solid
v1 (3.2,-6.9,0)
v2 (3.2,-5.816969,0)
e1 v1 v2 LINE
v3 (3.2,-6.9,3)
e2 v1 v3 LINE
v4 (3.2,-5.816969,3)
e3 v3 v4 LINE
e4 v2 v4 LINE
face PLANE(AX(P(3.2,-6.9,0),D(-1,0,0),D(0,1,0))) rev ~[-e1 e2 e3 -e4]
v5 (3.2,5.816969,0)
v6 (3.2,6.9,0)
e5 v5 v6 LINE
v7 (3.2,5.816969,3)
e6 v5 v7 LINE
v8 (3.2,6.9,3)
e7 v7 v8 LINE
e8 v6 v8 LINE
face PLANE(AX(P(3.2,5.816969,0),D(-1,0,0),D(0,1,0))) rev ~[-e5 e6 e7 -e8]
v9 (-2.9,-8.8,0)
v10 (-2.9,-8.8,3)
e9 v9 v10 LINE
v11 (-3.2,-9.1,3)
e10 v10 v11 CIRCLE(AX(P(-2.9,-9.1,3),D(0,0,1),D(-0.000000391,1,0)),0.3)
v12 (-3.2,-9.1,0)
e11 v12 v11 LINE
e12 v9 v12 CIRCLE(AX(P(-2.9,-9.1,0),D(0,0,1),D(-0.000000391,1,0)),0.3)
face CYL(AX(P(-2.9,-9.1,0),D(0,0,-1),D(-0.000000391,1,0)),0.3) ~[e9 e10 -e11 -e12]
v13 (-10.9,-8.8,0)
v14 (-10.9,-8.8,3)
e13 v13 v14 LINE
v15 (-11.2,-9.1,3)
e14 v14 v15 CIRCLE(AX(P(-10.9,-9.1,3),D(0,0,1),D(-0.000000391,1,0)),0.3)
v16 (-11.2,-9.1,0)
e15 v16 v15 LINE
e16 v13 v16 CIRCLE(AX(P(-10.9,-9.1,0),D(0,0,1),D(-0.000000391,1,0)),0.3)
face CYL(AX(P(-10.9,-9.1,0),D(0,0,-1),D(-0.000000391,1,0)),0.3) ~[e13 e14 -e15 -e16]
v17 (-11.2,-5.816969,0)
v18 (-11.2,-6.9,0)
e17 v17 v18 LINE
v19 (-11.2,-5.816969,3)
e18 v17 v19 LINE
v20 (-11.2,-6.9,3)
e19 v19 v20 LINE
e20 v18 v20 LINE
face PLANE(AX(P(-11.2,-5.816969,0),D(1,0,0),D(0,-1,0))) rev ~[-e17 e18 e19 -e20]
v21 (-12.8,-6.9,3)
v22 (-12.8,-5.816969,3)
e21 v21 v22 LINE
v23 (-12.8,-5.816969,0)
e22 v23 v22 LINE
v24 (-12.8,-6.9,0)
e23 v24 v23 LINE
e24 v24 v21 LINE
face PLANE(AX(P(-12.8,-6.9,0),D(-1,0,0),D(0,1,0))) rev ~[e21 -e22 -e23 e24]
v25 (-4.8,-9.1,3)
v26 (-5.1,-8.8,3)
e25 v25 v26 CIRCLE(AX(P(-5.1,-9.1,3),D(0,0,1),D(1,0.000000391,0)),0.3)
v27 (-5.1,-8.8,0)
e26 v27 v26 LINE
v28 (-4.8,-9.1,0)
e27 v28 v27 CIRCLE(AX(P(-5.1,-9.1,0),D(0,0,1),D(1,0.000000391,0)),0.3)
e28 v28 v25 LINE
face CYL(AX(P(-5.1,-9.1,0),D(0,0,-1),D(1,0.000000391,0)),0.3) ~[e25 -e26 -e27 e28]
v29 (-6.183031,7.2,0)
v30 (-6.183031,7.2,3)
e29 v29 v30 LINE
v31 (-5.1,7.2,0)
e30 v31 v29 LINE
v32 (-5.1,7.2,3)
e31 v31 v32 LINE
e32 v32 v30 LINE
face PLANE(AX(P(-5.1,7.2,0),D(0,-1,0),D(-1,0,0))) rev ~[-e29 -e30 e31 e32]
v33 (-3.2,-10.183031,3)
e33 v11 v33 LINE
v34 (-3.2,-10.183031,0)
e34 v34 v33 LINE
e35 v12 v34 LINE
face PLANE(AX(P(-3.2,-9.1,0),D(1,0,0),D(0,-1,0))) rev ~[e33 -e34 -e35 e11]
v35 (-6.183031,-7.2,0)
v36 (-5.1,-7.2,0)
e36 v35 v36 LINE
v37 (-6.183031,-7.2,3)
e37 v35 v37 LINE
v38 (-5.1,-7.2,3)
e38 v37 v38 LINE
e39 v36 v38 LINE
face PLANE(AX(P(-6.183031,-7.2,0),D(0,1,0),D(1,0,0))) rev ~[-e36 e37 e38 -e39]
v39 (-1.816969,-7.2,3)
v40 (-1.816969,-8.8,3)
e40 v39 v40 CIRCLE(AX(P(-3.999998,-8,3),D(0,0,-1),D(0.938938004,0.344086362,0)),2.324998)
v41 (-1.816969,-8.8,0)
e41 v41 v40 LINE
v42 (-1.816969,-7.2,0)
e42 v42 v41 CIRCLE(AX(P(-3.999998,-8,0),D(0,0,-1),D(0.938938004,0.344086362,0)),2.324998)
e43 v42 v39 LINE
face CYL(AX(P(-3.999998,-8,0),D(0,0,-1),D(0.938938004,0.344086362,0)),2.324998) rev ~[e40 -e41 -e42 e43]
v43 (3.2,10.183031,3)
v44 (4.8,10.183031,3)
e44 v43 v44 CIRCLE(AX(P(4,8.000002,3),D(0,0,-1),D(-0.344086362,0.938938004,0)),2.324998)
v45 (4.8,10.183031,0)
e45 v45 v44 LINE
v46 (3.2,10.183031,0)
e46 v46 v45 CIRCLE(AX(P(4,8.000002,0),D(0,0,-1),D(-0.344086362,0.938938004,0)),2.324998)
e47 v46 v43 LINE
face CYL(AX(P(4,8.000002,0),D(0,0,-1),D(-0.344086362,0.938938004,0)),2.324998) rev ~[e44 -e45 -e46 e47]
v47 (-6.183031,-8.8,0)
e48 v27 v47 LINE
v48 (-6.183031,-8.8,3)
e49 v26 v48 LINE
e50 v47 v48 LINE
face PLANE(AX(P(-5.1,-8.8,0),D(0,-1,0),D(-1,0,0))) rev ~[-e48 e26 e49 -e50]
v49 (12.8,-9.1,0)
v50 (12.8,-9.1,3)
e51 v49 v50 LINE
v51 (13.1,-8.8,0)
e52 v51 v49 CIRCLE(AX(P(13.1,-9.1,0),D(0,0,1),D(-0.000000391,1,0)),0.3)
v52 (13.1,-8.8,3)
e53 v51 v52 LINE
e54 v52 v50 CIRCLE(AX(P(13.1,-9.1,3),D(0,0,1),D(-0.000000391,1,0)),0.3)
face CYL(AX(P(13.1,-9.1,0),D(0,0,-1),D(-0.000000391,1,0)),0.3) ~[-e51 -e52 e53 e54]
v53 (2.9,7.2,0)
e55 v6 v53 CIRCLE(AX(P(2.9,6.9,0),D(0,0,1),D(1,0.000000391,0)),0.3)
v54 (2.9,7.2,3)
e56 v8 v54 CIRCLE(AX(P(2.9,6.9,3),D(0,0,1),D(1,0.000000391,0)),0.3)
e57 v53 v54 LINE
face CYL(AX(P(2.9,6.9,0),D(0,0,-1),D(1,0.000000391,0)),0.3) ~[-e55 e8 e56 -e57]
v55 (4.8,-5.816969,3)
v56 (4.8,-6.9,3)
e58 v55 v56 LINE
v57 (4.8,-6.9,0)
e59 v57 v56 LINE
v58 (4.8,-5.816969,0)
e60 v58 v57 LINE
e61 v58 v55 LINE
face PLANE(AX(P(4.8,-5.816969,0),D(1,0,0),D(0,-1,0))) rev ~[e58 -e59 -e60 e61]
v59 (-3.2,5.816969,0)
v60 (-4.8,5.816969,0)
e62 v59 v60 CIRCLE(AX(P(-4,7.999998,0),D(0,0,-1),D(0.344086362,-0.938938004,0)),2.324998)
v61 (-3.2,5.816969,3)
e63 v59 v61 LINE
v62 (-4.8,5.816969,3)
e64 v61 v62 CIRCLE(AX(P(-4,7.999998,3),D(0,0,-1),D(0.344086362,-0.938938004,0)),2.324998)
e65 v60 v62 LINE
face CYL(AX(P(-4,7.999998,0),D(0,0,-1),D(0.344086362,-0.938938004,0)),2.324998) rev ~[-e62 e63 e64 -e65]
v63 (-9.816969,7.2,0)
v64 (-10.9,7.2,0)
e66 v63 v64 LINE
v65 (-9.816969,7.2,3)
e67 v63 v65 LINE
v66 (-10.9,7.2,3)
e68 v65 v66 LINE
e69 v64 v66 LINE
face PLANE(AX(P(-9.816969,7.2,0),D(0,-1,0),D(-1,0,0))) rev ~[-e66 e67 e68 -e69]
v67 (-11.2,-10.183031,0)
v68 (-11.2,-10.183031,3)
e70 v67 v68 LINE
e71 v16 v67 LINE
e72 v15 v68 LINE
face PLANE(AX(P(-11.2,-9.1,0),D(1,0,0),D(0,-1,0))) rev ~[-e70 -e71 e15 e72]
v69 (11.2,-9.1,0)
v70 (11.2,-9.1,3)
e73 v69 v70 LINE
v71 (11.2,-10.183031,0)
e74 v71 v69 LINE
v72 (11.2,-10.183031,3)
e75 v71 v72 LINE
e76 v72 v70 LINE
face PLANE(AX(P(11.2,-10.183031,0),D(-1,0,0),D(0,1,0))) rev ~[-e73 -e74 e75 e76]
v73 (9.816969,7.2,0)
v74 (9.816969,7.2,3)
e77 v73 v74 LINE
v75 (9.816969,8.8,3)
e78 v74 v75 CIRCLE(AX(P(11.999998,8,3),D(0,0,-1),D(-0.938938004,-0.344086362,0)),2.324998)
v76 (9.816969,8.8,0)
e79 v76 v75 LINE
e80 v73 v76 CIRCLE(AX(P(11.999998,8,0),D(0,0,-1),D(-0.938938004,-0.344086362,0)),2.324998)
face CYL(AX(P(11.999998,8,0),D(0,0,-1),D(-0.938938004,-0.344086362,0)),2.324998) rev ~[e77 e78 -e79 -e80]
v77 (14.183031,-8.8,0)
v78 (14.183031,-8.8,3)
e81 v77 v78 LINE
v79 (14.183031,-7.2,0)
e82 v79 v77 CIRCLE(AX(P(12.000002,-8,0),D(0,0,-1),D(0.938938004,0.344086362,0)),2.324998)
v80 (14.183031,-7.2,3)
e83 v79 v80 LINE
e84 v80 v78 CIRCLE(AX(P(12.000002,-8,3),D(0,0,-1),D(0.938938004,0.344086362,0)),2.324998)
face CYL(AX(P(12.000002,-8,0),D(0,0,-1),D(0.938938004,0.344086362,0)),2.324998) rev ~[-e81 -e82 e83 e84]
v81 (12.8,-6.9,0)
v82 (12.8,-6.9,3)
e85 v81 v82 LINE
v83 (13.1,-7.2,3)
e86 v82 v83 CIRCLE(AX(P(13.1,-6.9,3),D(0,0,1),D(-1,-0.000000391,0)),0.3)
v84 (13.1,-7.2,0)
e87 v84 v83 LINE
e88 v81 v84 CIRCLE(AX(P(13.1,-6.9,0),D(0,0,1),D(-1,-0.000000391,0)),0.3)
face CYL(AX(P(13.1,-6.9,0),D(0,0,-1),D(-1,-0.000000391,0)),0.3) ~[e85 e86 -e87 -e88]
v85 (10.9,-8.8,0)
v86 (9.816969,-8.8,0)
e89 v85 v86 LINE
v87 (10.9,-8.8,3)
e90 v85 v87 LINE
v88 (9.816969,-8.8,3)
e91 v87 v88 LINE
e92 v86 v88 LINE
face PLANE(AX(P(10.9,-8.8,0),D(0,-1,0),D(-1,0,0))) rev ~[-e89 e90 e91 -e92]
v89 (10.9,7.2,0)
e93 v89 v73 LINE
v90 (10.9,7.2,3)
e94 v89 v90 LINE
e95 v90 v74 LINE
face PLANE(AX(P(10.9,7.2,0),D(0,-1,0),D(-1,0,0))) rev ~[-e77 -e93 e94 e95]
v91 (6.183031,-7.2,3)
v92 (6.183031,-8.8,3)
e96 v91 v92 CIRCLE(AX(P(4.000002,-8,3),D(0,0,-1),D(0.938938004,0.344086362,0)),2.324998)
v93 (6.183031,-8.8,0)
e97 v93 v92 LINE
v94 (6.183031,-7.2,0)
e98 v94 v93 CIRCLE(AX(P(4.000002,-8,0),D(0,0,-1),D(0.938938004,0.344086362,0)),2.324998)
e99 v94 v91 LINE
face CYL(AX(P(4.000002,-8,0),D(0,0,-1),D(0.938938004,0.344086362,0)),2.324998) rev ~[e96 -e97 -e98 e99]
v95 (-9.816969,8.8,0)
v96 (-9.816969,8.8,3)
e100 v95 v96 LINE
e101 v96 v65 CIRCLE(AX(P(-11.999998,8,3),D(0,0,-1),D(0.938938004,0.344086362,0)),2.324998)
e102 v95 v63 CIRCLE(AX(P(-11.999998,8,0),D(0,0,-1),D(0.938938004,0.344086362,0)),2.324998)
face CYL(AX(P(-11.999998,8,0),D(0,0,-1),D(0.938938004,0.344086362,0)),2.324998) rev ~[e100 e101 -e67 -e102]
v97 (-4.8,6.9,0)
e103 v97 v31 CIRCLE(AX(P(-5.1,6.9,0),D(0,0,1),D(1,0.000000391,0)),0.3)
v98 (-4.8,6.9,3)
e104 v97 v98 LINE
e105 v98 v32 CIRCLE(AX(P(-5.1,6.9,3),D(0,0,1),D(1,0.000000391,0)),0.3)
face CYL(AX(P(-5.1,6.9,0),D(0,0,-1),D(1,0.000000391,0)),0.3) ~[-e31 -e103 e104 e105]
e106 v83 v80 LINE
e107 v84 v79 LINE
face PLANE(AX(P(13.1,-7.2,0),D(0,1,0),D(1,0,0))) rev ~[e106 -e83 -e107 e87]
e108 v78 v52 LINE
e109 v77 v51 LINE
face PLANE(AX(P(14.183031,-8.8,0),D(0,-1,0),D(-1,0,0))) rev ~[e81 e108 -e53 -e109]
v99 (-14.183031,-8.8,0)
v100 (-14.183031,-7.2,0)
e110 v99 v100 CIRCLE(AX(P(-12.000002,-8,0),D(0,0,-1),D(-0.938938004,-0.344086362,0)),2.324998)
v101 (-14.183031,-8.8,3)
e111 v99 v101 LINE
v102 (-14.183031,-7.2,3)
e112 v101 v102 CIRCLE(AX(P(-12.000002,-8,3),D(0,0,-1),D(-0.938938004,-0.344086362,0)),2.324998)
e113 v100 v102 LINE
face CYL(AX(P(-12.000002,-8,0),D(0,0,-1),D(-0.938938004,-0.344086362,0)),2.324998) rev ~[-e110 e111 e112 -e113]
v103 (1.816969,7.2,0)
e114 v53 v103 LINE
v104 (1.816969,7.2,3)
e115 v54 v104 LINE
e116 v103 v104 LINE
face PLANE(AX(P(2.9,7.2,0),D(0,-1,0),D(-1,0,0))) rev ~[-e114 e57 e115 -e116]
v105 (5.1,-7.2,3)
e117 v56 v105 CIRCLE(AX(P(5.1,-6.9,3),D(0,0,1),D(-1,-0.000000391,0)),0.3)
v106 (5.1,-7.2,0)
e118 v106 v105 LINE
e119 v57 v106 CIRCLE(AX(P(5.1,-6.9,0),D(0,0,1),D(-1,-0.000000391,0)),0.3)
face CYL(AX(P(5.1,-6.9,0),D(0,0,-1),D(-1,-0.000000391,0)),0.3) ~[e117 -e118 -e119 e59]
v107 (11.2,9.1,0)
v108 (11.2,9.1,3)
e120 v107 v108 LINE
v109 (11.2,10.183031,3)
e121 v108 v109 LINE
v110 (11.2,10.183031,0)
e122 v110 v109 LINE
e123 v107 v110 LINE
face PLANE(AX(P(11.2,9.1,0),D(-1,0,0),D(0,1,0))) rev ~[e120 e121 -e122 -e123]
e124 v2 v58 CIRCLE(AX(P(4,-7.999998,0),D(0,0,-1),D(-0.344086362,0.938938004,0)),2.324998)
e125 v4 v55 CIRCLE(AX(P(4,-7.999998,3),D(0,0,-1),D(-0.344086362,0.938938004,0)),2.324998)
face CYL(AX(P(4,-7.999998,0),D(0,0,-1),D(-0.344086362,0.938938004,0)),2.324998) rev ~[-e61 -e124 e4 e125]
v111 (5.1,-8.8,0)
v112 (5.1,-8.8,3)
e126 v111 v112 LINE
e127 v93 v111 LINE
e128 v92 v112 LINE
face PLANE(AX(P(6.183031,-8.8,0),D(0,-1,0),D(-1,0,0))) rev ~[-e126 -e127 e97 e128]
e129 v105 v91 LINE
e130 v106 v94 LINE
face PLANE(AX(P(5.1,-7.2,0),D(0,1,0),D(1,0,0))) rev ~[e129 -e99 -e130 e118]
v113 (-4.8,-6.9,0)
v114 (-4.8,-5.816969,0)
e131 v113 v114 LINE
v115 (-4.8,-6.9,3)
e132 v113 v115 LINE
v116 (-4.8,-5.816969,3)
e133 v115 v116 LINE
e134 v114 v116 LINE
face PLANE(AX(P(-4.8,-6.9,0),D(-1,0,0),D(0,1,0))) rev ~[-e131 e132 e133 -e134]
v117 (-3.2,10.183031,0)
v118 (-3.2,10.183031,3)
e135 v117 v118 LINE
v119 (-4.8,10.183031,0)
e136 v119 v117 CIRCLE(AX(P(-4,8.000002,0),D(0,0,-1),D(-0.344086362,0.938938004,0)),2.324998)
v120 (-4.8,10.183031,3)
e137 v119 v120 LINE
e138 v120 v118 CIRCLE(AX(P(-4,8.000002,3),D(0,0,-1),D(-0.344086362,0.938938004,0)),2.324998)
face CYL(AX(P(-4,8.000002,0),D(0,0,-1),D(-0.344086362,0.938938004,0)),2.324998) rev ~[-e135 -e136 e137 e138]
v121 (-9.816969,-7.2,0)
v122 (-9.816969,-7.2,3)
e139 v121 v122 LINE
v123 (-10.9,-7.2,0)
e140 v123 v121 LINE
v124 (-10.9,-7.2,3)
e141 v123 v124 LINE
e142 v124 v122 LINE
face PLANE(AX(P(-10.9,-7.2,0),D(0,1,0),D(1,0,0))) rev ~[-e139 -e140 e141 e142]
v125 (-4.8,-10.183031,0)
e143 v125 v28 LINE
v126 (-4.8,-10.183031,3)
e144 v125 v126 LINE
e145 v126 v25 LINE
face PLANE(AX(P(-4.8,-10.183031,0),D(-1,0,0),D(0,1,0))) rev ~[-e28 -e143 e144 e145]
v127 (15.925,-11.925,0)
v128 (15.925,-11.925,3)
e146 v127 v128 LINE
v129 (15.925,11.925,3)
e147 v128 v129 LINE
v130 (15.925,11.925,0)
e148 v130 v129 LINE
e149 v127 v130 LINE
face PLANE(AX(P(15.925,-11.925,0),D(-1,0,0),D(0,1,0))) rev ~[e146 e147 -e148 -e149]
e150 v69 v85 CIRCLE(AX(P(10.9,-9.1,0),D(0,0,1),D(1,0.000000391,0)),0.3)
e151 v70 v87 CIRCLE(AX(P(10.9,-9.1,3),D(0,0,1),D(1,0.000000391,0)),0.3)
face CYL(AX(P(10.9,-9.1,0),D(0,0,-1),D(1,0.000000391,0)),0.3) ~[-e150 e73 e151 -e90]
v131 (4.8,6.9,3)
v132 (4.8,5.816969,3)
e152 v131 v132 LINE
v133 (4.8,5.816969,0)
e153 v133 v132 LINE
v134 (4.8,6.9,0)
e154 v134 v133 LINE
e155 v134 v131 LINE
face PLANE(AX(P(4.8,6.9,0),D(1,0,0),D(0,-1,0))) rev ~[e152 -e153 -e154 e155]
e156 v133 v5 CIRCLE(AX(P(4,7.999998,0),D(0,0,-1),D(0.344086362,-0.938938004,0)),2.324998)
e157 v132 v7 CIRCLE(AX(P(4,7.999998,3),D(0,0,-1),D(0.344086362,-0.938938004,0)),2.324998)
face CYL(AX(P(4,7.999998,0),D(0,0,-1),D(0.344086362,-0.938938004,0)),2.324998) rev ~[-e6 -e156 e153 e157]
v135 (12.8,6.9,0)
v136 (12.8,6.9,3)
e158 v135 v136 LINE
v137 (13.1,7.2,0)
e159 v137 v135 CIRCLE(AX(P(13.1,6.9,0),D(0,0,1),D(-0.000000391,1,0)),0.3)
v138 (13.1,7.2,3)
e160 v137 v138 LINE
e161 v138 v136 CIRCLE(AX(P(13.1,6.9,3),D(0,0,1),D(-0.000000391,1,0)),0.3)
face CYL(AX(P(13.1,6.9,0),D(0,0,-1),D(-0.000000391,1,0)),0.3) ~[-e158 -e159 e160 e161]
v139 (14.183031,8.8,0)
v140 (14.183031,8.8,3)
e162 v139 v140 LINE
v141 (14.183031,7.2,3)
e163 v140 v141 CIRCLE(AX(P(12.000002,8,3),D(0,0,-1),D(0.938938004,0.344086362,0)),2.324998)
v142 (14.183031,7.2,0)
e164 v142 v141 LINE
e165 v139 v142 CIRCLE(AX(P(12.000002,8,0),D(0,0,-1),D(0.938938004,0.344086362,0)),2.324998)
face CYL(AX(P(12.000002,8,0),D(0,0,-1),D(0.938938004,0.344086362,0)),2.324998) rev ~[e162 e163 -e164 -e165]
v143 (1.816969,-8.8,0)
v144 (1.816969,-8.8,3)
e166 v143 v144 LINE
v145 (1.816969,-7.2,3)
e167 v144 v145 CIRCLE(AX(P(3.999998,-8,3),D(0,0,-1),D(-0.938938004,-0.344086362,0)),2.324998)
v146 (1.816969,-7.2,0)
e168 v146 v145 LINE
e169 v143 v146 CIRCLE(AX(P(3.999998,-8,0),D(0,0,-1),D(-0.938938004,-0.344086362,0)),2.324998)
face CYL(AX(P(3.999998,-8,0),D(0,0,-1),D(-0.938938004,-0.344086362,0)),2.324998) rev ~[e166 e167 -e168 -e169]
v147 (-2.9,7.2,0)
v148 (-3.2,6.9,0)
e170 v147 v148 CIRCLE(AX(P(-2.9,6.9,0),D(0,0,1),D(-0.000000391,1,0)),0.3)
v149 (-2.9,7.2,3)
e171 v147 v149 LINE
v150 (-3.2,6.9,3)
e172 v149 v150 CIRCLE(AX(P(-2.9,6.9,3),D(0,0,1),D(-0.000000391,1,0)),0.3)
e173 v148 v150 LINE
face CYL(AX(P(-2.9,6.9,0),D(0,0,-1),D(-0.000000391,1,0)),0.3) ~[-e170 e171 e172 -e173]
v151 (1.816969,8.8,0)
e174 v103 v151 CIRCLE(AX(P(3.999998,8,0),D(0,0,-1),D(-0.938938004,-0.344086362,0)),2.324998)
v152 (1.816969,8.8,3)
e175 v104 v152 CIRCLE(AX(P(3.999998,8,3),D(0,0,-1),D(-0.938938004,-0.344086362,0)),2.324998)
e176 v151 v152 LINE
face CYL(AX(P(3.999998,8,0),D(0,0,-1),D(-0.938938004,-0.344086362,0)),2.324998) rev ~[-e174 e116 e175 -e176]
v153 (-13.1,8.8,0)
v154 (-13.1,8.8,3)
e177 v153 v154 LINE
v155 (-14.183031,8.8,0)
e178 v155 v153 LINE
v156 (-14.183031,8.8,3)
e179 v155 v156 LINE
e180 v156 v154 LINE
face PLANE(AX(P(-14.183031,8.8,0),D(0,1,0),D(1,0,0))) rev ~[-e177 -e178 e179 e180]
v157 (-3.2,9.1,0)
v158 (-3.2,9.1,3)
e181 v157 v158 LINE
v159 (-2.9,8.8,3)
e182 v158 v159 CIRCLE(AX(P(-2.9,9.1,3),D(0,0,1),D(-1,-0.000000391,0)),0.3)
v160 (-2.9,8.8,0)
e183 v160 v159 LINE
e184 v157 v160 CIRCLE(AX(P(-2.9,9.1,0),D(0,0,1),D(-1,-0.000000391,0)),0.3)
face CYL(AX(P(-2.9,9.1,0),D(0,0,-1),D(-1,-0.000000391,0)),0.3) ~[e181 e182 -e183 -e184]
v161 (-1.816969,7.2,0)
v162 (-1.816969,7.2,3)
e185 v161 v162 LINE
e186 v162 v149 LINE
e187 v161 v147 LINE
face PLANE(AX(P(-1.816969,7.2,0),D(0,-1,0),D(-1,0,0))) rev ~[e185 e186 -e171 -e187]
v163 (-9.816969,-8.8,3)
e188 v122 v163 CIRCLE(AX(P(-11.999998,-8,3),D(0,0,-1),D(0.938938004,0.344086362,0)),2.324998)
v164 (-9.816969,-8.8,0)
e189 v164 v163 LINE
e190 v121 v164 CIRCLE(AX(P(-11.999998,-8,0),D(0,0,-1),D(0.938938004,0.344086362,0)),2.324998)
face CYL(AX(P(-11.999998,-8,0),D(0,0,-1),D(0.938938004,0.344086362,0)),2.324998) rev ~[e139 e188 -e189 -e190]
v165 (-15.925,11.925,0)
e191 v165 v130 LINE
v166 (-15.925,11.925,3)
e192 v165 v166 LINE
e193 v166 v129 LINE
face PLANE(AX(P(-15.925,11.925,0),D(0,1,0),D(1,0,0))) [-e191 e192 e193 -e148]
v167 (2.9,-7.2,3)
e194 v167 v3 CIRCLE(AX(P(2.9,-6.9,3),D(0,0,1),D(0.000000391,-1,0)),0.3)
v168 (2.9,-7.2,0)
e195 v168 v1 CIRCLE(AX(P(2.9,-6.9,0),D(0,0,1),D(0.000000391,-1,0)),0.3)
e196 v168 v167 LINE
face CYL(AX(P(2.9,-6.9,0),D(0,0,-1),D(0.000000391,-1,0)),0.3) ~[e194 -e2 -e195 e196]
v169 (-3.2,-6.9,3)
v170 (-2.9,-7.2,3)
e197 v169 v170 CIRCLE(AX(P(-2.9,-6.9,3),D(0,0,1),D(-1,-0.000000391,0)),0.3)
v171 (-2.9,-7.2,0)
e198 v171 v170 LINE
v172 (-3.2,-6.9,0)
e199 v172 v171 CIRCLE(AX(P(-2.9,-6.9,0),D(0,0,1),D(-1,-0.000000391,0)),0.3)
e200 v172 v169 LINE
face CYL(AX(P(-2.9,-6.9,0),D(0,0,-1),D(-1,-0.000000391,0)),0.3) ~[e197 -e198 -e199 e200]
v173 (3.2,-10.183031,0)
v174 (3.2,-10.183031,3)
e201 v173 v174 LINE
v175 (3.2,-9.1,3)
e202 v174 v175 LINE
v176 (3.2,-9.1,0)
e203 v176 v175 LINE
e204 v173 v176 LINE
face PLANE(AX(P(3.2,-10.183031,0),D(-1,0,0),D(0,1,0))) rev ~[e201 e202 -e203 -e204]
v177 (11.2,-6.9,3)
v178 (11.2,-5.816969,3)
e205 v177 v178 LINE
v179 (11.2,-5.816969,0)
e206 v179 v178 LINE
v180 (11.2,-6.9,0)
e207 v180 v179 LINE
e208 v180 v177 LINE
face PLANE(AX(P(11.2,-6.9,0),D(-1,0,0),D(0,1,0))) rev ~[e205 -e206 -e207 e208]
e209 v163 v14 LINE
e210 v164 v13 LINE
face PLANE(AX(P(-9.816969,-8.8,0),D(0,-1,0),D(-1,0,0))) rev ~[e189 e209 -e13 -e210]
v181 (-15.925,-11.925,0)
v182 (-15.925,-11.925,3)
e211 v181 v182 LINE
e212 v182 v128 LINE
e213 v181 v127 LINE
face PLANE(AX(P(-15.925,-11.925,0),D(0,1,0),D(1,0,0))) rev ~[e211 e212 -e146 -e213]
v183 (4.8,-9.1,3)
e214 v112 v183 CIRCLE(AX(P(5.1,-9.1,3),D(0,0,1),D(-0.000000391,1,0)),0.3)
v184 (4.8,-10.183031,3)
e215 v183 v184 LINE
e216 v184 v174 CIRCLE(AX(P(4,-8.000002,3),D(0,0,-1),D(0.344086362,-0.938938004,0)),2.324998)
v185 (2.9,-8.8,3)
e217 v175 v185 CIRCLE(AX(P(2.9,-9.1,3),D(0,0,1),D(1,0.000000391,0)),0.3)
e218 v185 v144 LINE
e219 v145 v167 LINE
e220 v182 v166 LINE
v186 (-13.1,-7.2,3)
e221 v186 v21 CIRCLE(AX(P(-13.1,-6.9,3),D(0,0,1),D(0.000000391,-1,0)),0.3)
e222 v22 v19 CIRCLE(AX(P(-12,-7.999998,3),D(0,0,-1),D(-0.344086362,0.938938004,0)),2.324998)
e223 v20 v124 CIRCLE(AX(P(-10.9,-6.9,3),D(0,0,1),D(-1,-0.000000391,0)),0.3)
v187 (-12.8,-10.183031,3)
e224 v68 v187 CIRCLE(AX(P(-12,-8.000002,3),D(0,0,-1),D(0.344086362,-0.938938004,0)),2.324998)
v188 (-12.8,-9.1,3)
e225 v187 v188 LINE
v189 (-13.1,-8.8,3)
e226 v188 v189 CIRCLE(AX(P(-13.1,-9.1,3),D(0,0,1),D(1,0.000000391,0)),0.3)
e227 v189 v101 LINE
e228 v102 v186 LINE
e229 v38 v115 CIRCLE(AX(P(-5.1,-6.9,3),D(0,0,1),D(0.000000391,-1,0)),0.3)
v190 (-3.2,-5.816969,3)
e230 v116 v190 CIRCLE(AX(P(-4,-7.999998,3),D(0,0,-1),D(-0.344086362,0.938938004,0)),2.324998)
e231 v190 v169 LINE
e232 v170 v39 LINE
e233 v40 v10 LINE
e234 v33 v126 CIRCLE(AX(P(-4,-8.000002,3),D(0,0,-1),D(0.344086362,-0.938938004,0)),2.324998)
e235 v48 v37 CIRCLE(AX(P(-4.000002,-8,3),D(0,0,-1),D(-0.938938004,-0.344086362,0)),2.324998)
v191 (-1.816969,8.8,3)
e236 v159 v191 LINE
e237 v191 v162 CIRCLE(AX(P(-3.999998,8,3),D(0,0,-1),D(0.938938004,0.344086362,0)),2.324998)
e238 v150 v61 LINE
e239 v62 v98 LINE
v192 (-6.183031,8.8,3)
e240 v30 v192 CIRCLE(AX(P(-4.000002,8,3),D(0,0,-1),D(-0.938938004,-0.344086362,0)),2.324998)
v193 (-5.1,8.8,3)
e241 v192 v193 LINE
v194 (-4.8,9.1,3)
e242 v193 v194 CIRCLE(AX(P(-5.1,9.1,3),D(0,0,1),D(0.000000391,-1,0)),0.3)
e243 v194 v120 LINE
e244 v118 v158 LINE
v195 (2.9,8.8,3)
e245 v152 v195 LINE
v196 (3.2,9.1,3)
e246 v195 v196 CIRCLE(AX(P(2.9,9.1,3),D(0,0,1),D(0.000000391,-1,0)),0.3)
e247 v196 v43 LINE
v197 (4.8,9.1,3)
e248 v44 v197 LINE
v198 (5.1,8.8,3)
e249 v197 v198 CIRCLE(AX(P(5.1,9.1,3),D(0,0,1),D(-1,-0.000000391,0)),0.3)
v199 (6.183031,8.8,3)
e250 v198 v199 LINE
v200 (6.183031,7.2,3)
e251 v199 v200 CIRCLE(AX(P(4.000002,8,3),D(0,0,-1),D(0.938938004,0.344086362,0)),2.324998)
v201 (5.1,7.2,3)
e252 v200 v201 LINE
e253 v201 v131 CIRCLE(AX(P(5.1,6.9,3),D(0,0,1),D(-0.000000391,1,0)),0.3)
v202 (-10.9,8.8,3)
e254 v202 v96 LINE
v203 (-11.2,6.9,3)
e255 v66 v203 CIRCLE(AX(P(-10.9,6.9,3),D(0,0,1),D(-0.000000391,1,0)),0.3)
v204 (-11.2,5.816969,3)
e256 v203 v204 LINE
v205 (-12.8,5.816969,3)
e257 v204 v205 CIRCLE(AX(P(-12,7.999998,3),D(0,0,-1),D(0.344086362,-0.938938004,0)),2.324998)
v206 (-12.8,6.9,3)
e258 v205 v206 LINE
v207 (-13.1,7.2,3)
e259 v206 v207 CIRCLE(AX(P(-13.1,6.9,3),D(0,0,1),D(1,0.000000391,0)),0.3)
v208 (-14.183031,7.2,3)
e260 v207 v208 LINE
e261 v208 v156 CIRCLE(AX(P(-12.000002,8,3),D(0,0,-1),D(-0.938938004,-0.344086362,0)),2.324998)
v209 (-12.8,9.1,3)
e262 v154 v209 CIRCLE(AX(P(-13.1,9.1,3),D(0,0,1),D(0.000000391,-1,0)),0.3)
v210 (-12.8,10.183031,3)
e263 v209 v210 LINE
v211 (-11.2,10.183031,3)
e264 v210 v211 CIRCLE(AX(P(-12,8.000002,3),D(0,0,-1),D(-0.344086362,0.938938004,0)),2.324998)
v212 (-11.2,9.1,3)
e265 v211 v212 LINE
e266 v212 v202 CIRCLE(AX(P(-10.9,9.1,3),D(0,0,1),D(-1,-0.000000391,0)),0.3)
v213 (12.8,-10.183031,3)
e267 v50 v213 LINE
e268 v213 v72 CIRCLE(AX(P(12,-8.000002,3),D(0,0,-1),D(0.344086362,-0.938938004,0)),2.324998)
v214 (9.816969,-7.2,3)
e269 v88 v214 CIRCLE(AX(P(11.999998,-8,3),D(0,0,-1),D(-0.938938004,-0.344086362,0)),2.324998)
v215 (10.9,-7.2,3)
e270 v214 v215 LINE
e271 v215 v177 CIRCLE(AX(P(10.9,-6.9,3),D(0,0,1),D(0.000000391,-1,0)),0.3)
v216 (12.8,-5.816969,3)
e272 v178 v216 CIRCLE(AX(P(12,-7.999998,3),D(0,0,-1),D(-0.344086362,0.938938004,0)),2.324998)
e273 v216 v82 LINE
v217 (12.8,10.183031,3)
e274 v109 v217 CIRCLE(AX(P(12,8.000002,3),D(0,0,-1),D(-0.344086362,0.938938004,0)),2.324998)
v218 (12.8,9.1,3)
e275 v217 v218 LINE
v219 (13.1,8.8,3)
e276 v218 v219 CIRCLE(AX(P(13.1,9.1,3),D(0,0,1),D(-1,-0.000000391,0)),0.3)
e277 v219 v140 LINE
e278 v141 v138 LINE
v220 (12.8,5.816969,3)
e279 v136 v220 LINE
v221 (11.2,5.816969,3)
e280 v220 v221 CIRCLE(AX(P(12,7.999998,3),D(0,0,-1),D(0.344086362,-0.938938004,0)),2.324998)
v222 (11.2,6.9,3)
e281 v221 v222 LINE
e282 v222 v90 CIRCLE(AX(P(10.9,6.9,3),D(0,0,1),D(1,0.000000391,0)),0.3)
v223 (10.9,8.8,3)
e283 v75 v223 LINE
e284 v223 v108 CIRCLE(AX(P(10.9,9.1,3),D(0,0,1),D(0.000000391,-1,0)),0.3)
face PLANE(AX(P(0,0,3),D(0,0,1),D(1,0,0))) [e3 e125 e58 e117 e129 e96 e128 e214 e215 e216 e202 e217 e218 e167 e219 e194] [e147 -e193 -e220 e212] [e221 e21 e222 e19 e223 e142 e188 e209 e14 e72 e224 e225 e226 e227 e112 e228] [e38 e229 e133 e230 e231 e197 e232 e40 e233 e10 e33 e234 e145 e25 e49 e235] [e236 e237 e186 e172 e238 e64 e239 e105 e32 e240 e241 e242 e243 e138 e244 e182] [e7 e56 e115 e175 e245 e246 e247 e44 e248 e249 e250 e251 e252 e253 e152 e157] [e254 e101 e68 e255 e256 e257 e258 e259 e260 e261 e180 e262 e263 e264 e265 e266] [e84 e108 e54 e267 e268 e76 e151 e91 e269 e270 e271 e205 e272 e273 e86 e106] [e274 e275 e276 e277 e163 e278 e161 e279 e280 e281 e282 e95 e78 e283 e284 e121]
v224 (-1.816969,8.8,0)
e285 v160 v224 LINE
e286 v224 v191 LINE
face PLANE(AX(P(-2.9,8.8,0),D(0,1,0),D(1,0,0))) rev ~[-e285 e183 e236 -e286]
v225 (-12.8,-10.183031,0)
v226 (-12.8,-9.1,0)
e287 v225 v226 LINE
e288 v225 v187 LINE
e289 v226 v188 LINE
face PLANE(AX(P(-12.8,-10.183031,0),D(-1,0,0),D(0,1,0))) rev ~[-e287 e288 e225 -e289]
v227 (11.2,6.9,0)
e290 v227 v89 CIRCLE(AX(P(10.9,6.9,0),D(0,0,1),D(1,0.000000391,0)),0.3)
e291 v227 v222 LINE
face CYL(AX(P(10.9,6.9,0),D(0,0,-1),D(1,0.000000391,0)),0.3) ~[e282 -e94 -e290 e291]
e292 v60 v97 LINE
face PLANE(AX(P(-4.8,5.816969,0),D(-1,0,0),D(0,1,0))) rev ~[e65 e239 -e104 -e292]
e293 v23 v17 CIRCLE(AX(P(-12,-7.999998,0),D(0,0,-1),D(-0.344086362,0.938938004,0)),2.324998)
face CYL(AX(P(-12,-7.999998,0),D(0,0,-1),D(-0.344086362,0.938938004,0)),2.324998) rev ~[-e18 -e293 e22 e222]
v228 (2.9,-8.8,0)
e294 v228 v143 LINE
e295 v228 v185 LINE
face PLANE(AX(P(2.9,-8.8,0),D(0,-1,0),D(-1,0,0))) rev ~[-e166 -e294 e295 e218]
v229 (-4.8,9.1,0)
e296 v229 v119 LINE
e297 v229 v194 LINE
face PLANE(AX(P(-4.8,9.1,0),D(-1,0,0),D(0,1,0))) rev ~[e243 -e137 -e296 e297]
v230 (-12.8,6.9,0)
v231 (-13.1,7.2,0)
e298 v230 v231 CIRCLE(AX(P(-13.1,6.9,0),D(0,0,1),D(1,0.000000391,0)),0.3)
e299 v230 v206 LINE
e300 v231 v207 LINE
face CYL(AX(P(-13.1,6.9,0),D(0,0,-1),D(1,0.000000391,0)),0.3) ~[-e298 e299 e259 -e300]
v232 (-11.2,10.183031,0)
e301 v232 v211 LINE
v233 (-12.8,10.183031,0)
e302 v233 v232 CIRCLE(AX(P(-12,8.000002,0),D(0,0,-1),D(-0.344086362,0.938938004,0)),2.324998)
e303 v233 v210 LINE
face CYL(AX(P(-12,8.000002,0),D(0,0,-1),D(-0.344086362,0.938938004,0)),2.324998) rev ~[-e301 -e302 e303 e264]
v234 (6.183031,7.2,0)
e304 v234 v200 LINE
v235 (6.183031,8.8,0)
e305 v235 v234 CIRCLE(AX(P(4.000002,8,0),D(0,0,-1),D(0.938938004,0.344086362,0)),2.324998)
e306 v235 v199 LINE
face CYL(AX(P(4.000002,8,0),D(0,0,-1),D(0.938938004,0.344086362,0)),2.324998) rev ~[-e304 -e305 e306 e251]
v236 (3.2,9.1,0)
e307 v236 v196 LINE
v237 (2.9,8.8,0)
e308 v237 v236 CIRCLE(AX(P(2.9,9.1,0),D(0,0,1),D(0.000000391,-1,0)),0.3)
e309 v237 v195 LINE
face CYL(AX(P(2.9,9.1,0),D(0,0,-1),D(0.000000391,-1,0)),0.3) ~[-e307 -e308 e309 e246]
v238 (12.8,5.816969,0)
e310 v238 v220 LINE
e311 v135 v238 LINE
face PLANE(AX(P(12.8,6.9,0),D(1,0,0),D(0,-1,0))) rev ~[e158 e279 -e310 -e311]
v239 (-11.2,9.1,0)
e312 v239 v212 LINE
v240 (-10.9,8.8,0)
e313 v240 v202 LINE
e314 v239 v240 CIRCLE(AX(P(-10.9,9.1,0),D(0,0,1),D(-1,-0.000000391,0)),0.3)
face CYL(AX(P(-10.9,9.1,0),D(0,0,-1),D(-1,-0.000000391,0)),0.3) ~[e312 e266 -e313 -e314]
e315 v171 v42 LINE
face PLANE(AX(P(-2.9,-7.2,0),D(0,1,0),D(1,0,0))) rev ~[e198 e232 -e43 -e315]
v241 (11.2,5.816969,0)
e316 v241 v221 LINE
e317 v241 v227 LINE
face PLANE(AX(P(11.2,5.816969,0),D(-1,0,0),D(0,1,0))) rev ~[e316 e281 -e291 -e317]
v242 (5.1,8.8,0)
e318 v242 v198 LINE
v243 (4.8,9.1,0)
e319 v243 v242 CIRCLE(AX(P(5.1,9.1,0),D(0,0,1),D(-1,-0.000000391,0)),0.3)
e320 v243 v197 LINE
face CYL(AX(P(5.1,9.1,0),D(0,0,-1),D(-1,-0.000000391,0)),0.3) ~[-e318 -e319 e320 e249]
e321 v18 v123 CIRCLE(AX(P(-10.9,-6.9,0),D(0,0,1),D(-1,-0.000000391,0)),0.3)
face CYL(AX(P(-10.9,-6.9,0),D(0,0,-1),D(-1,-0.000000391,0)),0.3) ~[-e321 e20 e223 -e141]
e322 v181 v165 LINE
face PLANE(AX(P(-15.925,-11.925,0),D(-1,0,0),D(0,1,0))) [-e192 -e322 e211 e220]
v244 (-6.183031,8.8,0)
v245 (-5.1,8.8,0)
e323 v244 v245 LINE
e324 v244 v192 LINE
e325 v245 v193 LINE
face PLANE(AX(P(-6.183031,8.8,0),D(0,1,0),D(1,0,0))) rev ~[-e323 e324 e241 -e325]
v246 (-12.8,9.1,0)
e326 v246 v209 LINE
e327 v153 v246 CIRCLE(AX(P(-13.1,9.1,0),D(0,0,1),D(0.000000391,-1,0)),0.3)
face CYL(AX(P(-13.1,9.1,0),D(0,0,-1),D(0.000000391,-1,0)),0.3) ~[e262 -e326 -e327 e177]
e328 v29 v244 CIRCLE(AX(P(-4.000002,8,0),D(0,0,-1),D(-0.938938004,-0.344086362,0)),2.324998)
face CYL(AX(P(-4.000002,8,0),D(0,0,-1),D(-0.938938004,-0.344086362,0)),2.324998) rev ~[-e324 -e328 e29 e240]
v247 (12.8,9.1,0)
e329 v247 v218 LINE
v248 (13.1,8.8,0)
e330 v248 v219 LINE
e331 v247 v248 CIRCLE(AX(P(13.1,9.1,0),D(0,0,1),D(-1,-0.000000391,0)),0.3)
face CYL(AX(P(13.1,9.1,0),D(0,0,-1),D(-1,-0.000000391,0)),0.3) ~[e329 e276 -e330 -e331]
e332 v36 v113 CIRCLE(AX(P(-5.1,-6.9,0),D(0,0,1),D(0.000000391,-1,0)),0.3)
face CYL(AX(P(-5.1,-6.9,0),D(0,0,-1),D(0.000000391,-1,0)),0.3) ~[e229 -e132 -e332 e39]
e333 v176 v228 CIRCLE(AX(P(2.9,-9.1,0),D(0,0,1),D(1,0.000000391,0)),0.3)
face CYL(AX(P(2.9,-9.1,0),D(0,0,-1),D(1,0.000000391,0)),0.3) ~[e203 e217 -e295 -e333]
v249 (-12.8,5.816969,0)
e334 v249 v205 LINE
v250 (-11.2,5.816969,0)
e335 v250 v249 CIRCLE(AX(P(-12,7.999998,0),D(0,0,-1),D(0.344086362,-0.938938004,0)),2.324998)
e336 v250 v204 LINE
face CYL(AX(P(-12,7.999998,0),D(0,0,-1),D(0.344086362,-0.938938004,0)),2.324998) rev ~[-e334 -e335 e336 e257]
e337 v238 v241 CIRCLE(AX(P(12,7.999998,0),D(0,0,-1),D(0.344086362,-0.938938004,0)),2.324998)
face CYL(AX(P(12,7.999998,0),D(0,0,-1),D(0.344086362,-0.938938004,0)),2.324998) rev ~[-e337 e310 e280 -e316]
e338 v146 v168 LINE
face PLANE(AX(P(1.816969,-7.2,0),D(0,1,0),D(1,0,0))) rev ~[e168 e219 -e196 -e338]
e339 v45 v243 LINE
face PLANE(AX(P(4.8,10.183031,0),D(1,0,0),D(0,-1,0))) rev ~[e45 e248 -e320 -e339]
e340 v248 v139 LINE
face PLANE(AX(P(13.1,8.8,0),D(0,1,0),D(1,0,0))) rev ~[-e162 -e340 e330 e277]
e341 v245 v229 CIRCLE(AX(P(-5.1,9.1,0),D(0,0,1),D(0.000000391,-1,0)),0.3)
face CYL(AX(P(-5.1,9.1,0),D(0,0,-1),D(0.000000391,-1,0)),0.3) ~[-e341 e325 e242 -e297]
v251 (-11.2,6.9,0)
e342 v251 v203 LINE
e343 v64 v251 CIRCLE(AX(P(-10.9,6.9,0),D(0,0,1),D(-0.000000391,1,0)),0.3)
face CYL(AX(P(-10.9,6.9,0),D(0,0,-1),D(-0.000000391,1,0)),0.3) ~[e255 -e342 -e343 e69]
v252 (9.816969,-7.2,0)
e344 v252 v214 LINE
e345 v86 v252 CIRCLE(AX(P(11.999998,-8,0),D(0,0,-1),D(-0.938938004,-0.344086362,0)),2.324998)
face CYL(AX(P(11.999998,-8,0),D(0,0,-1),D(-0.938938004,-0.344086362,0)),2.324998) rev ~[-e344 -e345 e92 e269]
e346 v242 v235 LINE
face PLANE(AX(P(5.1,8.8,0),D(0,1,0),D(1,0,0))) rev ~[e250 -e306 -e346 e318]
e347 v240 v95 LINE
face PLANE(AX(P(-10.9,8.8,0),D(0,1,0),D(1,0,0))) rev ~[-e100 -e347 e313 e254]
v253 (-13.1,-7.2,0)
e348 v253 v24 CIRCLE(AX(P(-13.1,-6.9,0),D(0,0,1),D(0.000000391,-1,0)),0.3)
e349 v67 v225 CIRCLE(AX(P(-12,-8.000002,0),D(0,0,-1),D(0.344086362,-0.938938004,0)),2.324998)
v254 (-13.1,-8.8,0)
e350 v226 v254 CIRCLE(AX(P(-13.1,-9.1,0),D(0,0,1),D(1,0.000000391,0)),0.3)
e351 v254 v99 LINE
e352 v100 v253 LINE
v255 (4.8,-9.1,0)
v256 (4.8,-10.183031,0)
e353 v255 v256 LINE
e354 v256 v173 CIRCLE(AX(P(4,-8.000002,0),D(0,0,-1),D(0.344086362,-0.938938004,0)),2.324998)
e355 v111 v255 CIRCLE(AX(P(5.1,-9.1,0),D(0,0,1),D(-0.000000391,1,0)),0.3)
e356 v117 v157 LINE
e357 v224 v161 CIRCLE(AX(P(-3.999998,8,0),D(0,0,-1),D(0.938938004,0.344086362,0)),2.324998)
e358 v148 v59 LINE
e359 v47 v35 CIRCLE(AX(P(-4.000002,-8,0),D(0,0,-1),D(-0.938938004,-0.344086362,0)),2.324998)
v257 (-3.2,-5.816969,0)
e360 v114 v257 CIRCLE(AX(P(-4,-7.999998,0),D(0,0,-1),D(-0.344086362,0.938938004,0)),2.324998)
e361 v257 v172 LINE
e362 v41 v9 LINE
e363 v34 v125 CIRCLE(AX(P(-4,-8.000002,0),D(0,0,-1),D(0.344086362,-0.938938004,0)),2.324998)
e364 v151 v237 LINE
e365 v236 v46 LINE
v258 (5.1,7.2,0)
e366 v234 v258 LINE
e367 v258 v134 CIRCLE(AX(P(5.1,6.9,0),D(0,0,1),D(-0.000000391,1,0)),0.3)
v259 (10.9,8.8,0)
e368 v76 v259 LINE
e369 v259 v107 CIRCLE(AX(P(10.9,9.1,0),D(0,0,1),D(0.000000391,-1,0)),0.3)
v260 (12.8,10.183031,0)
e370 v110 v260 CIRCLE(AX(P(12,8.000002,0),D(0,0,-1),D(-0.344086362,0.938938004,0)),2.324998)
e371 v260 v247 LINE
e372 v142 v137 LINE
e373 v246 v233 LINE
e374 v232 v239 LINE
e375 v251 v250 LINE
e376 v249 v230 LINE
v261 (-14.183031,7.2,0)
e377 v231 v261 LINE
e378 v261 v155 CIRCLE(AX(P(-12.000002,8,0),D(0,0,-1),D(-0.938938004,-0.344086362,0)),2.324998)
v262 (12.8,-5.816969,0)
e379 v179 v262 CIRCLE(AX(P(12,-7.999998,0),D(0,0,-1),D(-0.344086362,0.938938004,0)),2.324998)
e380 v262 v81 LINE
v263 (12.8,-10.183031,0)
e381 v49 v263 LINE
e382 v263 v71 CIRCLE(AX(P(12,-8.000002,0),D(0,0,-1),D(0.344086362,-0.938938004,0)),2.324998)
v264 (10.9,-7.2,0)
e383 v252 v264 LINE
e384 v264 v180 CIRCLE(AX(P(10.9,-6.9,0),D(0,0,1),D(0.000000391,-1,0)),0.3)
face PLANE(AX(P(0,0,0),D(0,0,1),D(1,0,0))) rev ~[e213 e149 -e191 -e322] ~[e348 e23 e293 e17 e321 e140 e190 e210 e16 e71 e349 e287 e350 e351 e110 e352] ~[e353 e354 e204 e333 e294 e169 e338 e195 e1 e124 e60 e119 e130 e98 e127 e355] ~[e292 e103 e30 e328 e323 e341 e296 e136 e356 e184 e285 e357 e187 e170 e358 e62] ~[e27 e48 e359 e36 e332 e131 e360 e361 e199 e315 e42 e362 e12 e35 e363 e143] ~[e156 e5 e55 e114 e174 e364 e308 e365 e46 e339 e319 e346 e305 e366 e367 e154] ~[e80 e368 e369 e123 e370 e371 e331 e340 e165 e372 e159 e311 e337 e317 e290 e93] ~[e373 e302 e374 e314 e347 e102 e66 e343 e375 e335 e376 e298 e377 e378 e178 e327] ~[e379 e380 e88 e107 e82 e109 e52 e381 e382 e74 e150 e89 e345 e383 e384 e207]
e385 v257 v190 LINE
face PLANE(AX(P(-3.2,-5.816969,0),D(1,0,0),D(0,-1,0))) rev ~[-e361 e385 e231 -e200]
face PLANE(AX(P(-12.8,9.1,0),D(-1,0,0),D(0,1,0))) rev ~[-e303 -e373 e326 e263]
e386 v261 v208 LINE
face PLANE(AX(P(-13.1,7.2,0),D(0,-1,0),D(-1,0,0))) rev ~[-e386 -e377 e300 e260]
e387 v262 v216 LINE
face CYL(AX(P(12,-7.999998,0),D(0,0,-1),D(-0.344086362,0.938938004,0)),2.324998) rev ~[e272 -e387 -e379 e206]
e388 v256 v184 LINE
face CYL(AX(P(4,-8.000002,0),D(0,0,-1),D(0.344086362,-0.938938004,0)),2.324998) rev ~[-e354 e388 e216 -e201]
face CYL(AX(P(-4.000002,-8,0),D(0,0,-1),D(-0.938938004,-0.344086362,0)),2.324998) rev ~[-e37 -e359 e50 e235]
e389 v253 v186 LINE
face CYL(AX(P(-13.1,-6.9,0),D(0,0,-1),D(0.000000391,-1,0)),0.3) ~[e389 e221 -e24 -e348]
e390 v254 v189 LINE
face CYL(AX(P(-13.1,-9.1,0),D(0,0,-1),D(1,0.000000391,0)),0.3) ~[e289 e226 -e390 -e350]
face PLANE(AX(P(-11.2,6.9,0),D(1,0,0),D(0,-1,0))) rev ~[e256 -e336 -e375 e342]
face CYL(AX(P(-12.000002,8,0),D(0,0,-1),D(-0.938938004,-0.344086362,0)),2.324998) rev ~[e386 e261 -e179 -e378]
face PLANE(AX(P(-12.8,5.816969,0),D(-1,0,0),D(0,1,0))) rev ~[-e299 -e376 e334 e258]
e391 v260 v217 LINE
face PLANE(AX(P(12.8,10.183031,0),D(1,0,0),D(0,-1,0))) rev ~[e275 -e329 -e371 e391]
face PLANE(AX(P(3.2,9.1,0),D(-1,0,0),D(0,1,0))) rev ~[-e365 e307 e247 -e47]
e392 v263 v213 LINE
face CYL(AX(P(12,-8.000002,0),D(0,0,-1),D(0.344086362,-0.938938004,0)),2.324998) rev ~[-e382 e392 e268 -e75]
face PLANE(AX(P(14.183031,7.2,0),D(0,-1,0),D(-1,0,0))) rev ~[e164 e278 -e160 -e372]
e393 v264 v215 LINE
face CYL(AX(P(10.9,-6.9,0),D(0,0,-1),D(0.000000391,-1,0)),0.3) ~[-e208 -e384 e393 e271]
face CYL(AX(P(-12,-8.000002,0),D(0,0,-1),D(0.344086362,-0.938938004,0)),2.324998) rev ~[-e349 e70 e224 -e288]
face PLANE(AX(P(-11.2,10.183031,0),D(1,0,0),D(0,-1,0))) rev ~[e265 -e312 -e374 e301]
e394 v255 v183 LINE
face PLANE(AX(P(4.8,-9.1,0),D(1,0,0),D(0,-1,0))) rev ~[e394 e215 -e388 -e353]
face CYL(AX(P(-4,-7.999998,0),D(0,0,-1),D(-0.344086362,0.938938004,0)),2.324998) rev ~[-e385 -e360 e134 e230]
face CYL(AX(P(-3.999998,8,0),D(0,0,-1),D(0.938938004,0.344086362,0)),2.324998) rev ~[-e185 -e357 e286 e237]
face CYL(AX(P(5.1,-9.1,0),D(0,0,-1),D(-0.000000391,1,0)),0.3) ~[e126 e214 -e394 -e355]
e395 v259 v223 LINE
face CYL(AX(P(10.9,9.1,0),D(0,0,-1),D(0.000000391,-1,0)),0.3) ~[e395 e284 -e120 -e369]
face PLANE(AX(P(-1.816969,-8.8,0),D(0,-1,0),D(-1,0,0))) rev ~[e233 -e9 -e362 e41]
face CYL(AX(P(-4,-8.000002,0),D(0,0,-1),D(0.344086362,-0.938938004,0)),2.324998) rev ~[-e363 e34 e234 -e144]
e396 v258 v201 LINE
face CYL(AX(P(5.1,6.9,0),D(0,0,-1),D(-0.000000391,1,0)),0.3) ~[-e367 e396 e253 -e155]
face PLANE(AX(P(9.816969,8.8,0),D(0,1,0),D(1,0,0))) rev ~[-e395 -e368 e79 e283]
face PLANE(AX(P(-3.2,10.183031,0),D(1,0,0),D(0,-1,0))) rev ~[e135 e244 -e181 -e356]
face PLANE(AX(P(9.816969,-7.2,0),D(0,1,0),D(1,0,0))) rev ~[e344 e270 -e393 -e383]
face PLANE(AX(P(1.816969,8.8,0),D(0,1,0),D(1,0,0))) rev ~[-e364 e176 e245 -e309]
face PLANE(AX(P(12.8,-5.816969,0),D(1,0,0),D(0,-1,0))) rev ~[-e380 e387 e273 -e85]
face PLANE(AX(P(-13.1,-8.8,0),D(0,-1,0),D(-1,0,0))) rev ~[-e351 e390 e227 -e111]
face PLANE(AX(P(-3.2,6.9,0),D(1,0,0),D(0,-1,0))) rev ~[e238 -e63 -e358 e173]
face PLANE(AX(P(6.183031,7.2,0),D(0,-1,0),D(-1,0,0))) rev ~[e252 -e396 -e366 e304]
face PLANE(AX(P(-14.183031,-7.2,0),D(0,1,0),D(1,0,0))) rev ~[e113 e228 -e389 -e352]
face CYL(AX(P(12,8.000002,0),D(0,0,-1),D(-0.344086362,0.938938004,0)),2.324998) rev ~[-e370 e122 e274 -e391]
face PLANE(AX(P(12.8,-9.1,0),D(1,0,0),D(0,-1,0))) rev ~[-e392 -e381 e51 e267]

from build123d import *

# Parameters (mm, degrees)
F0_W     = 31.85
F0_H     = 23.85
F1_DEPTH = 3


with BuildPart() as f1:
    # F0 (on Top) → F1 (new body)
    with BuildSketch(Plane.XY):
        Rectangle(F0_W, F0_H)
        with BuildLine():
            Line((-11.2, -9.1), (-11.2, -10.183031))
            ThreePointArc((-11.2, -10.183031), (-12, -10.325), (-12.8, -10.183031))
            Line((-12.8, -10.183031), (-12.8, -9.1))
            ThreePointArc((-12.8, -9.1), (-12.887868, -8.887868), (-13.1, -8.8))
            Line((-13.1, -8.8), (-14.183031, -8.8))
            ThreePointArc((-14.183031, -8.8), (-14.325, -8), (-14.183031, -7.2))
            Line((-14.183031, -7.2), (-13.1, -7.2))
            ThreePointArc((-13.1, -7.2), (-12.887868, -7.112132), (-12.8, -6.9))
            Line((-12.8, -6.9), (-12.8, -5.816969))
            ThreePointArc((-12.8, -5.816969), (-12, -5.675), (-11.2, -5.816969))
            Line((-11.2, -5.816969), (-11.2, -6.9))
            ThreePointArc((-11.2, -6.9), (-11.112132, -7.112132), (-10.9, -7.2))
            Line((-10.9, -7.2), (-9.816969, -7.2))
            ThreePointArc((-9.816969, -7.2), (-9.675, -8), (-9.816969, -8.8))
            Line((-9.816969, -8.8), (-10.9, -8.8))
            ThreePointArc((-10.9, -8.8), (-11.112132, -8.887868), (-11.2, -9.1))
        make_face(mode=Mode.SUBTRACT)
        with BuildLine():
            ThreePointArc((-5.1, -7.2), (-4.887868, -7.112132), (-4.8, -6.9))
            Line((-4.8, -6.9), (-4.8, -5.816969))
            ThreePointArc((-4.8, -5.816969), (-4, -5.675), (-3.2, -5.816969))
            Line((-3.2, -5.816969), (-3.2, -6.9))
            ThreePointArc((-3.2, -6.9), (-3.112132, -7.112132), (-2.9, -7.2))
            Line((-2.9, -7.2), (-1.816969, -7.2))
            ThreePointArc((-1.816969, -7.2), (-1.675, -8), (-1.816969, -8.8))
            Line((-1.816969, -8.8), (-2.9, -8.8))
            ThreePointArc((-2.9, -8.8), (-3.112132, -8.887868), (-3.2, -9.1))
            Line((-3.2, -9.1), (-3.2, -10.183031))
            ThreePointArc((-3.2, -10.183031), (-4, -10.325), (-4.8, -10.183031))
            Line((-4.8, -10.183031), (-4.8, -9.1))
            ThreePointArc((-4.8, -9.1), (-4.887868, -8.887868), (-5.1, -8.8))
            Line((-5.1, -8.8), (-6.183031, -8.8))
            ThreePointArc((-6.183031, -8.8), (-6.325, -8), (-6.183031, -7.2))
            Line((-6.183031, -7.2), (-5.1, -7.2))
        make_face(mode=Mode.SUBTRACT)
        with BuildLine():
            Line((4.8, -9.1), (4.8, -10.183031))
            ThreePointArc((4.8, -10.183031), (4, -10.325), (3.2, -10.183031))
            Line((3.2, -10.183031), (3.2, -9.1))
            ThreePointArc((3.2, -9.1), (3.112132, -8.887868), (2.9, -8.8))
            Line((2.9, -8.8), (1.816969, -8.8))
            ThreePointArc((1.816969, -8.8), (1.675, -8), (1.816969, -7.2))
            Line((1.816969, -7.2), (2.9, -7.2))
            ThreePointArc((2.9, -7.2), (3.112132, -7.112132), (3.2, -6.9))
            Line((3.2, -6.9), (3.2, -5.816969))
            ThreePointArc((3.2, -5.816969), (4, -5.675), (4.8, -5.816969))
            Line((4.8, -5.816969), (4.8, -6.9))
            ThreePointArc((4.8, -6.9), (4.887868, -7.112132), (5.1, -7.2))
            Line((5.1, -7.2), (6.183031, -7.2))
            ThreePointArc((6.183031, -7.2), (6.325, -8), (6.183031, -8.8))
            Line((6.183031, -8.8), (5.1, -8.8))
            ThreePointArc((5.1, -8.8), (4.887868, -8.887868), (4.8, -9.1))
        make_face(mode=Mode.SUBTRACT)
        with BuildLine():
            ThreePointArc((12.8, -6.9), (12.887868, -7.112132), (13.1, -7.2))
            Line((13.1, -7.2), (14.183031, -7.2))
            ThreePointArc((14.183031, -7.2), (14.325, -8), (14.183031, -8.8))
            Line((14.183031, -8.8), (13.1, -8.8))
            ThreePointArc((13.1, -8.8), (12.887868, -8.887868), (12.8, -9.1))
            Line((12.8, -9.1), (12.8, -10.183031))
            ThreePointArc((12.8, -10.183031), (12, -10.325), (11.2, -10.183031))
            Line((11.2, -10.183031), (11.2, -9.1))
            ThreePointArc((11.2, -9.1), (11.112132, -8.887868), (10.9, -8.8))
            Line((10.9, -8.8), (9.816969, -8.8))
            ThreePointArc((9.816969, -8.8), (9.675, -8), (9.816969, -7.2))
            Line((9.816969, -7.2), (10.9, -7.2))
            ThreePointArc((10.9, -7.2), (11.112132, -7.112132), (11.2, -6.9))
            Line((11.2, -6.9), (11.2, -5.816969))
            ThreePointArc((11.2, -5.816969), (12, -5.675), (12.8, -5.816969))
            Line((12.8, -5.816969), (12.8, -6.9))
        make_face(mode=Mode.SUBTRACT)
        with BuildLine():
            ThreePointArc((-12.8, 10.183031), (-12, 10.325), (-11.2, 10.183031))
            Line((-11.2, 10.183031), (-11.2, 9.1))
            ThreePointArc((-11.2, 9.1), (-11.112132, 8.887868), (-10.9, 8.8))
            Line((-10.9, 8.8), (-9.816969, 8.8))
            ThreePointArc((-9.816969, 8.8), (-9.675, 8), (-9.816969, 7.2))
            Line((-9.816969, 7.2), (-10.9, 7.2))
            ThreePointArc((-10.9, 7.2), (-11.112132, 7.112132), (-11.2, 6.9))
            Line((-11.2, 6.9), (-11.2, 5.816969))
            ThreePointArc((-11.2, 5.816969), (-12, 5.675), (-12.8, 5.816969))
            Line((-12.8, 5.816969), (-12.8, 6.9))
            ThreePointArc((-12.8, 6.9), (-12.887868, 7.112132), (-13.1, 7.2))
            Line((-13.1, 7.2), (-14.183031, 7.2))
            ThreePointArc((-14.183031, 7.2), (-14.325, 8), (-14.183031, 8.8))
            Line((-14.183031, 8.8), (-13.1, 8.8))
            ThreePointArc((-13.1, 8.8), (-12.887868, 8.887868), (-12.8, 9.1))
            Line((-12.8, 9.1), (-12.8, 10.183031))
        make_face(mode=Mode.SUBTRACT)
        with BuildLine():
            ThreePointArc((-4.8, 10.183031), (-4, 10.325), (-3.2, 10.183031))
            Line((-3.2, 10.183031), (-3.2, 9.1))
            ThreePointArc((-3.2, 9.1), (-3.112132, 8.887868), (-2.9, 8.8))
            Line((-2.9, 8.8), (-1.816969, 8.8))
            ThreePointArc((-1.816969, 8.8), (-1.675, 8), (-1.816969, 7.2))
            Line((-1.816969, 7.2), (-2.9, 7.2))
            ThreePointArc((-2.9, 7.2), (-3.112132, 7.112132), (-3.2, 6.9))
            Line((-3.2, 6.9), (-3.2, 5.816969))
            ThreePointArc((-3.2, 5.816969), (-4, 5.675), (-4.8, 5.816969))
            Line((-4.8, 5.816969), (-4.8, 6.9))
            ThreePointArc((-4.8, 6.9), (-4.887868, 7.112132), (-5.1, 7.2))
            Line((-5.1, 7.2), (-6.183031, 7.2))
            ThreePointArc((-6.183031, 7.2), (-6.325, 8), (-6.183031, 8.8))
            Line((-6.183031, 8.8), (-5.1, 8.8))
            ThreePointArc((-5.1, 8.8), (-4.887868, 8.887868), (-4.8, 9.1))
            Line((-4.8, 9.1), (-4.8, 10.183031))
        make_face(mode=Mode.SUBTRACT)
        with BuildLine():
            ThreePointArc((3.2, 10.183031), (4, 10.325), (4.8, 10.183031))
            Line((4.8, 10.183031), (4.8, 9.1))
            ThreePointArc((4.8, 9.1), (4.887868, 8.887868), (5.1, 8.8))
            Line((5.1, 8.8), (6.183031, 8.8))
            ThreePointArc((6.183031, 8.8), (6.325, 8), (6.183031, 7.2))
            Line((6.183031, 7.2), (5.1, 7.2))
            ThreePointArc((5.1, 7.2), (4.887868, 7.112132), (4.8, 6.9))
            Line((4.8, 6.9), (4.8, 5.816969))
            ThreePointArc((4.8, 5.816969), (4, 5.675), (3.2, 5.816969))
            Line((3.2, 5.816969), (3.2, 6.9))
            ThreePointArc((3.2, 6.9), (3.112132, 7.112132), (2.9, 7.2))
            Line((2.9, 7.2), (1.816969, 7.2))
            ThreePointArc((1.816969, 7.2), (1.675, 8), (1.816969, 8.8))
            Line((1.816969, 8.8), (2.9, 8.8))
            ThreePointArc((2.9, 8.8), (3.112132, 8.887868), (3.2, 9.1))
            Line((3.2, 9.1), (3.2, 10.183031))
        make_face(mode=Mode.SUBTRACT)
        with BuildLine():
            ThreePointArc((11.2, 10.183031), (12, 10.325), (12.8, 10.183031))
            Line((12.8, 10.183031), (12.8, 9.1))
            ThreePointArc((12.8, 9.1), (12.887868, 8.887868), (13.1, 8.8))
            Line((13.1, 8.8), (14.183031, 8.8))
            ThreePointArc((14.183031, 8.8), (14.325, 8), (14.183031, 7.2))
            Line((14.183031, 7.2), (13.1, 7.2))
            ThreePointArc((13.1, 7.2), (12.887868, 7.112132), (12.8, 6.9))
            Line((12.8, 6.9), (12.8, 5.816969))
            ThreePointArc((12.8, 5.816969), (12, 5.675), (11.2, 5.816969))
            Line((11.2, 5.816969), (11.2, 6.9))
            ThreePointArc((11.2, 6.9), (11.112132, 7.112132), (10.9, 7.2))
            Line((10.9, 7.2), (9.816969, 7.2))
            ThreePointArc((9.816969, 7.2), (9.675, 8), (9.816969, 8.8))
            Line((9.816969, 8.8), (10.9, 8.8))
            ThreePointArc((10.9, 8.8), (11.112132, 8.887868), (11.2, 9.1))
            Line((11.2, 9.1), (11.2, 10.183031))
        make_face(mode=Mode.SUBTRACT)
    extrude(amount=F1_DEPTH)


solid = f1.part
